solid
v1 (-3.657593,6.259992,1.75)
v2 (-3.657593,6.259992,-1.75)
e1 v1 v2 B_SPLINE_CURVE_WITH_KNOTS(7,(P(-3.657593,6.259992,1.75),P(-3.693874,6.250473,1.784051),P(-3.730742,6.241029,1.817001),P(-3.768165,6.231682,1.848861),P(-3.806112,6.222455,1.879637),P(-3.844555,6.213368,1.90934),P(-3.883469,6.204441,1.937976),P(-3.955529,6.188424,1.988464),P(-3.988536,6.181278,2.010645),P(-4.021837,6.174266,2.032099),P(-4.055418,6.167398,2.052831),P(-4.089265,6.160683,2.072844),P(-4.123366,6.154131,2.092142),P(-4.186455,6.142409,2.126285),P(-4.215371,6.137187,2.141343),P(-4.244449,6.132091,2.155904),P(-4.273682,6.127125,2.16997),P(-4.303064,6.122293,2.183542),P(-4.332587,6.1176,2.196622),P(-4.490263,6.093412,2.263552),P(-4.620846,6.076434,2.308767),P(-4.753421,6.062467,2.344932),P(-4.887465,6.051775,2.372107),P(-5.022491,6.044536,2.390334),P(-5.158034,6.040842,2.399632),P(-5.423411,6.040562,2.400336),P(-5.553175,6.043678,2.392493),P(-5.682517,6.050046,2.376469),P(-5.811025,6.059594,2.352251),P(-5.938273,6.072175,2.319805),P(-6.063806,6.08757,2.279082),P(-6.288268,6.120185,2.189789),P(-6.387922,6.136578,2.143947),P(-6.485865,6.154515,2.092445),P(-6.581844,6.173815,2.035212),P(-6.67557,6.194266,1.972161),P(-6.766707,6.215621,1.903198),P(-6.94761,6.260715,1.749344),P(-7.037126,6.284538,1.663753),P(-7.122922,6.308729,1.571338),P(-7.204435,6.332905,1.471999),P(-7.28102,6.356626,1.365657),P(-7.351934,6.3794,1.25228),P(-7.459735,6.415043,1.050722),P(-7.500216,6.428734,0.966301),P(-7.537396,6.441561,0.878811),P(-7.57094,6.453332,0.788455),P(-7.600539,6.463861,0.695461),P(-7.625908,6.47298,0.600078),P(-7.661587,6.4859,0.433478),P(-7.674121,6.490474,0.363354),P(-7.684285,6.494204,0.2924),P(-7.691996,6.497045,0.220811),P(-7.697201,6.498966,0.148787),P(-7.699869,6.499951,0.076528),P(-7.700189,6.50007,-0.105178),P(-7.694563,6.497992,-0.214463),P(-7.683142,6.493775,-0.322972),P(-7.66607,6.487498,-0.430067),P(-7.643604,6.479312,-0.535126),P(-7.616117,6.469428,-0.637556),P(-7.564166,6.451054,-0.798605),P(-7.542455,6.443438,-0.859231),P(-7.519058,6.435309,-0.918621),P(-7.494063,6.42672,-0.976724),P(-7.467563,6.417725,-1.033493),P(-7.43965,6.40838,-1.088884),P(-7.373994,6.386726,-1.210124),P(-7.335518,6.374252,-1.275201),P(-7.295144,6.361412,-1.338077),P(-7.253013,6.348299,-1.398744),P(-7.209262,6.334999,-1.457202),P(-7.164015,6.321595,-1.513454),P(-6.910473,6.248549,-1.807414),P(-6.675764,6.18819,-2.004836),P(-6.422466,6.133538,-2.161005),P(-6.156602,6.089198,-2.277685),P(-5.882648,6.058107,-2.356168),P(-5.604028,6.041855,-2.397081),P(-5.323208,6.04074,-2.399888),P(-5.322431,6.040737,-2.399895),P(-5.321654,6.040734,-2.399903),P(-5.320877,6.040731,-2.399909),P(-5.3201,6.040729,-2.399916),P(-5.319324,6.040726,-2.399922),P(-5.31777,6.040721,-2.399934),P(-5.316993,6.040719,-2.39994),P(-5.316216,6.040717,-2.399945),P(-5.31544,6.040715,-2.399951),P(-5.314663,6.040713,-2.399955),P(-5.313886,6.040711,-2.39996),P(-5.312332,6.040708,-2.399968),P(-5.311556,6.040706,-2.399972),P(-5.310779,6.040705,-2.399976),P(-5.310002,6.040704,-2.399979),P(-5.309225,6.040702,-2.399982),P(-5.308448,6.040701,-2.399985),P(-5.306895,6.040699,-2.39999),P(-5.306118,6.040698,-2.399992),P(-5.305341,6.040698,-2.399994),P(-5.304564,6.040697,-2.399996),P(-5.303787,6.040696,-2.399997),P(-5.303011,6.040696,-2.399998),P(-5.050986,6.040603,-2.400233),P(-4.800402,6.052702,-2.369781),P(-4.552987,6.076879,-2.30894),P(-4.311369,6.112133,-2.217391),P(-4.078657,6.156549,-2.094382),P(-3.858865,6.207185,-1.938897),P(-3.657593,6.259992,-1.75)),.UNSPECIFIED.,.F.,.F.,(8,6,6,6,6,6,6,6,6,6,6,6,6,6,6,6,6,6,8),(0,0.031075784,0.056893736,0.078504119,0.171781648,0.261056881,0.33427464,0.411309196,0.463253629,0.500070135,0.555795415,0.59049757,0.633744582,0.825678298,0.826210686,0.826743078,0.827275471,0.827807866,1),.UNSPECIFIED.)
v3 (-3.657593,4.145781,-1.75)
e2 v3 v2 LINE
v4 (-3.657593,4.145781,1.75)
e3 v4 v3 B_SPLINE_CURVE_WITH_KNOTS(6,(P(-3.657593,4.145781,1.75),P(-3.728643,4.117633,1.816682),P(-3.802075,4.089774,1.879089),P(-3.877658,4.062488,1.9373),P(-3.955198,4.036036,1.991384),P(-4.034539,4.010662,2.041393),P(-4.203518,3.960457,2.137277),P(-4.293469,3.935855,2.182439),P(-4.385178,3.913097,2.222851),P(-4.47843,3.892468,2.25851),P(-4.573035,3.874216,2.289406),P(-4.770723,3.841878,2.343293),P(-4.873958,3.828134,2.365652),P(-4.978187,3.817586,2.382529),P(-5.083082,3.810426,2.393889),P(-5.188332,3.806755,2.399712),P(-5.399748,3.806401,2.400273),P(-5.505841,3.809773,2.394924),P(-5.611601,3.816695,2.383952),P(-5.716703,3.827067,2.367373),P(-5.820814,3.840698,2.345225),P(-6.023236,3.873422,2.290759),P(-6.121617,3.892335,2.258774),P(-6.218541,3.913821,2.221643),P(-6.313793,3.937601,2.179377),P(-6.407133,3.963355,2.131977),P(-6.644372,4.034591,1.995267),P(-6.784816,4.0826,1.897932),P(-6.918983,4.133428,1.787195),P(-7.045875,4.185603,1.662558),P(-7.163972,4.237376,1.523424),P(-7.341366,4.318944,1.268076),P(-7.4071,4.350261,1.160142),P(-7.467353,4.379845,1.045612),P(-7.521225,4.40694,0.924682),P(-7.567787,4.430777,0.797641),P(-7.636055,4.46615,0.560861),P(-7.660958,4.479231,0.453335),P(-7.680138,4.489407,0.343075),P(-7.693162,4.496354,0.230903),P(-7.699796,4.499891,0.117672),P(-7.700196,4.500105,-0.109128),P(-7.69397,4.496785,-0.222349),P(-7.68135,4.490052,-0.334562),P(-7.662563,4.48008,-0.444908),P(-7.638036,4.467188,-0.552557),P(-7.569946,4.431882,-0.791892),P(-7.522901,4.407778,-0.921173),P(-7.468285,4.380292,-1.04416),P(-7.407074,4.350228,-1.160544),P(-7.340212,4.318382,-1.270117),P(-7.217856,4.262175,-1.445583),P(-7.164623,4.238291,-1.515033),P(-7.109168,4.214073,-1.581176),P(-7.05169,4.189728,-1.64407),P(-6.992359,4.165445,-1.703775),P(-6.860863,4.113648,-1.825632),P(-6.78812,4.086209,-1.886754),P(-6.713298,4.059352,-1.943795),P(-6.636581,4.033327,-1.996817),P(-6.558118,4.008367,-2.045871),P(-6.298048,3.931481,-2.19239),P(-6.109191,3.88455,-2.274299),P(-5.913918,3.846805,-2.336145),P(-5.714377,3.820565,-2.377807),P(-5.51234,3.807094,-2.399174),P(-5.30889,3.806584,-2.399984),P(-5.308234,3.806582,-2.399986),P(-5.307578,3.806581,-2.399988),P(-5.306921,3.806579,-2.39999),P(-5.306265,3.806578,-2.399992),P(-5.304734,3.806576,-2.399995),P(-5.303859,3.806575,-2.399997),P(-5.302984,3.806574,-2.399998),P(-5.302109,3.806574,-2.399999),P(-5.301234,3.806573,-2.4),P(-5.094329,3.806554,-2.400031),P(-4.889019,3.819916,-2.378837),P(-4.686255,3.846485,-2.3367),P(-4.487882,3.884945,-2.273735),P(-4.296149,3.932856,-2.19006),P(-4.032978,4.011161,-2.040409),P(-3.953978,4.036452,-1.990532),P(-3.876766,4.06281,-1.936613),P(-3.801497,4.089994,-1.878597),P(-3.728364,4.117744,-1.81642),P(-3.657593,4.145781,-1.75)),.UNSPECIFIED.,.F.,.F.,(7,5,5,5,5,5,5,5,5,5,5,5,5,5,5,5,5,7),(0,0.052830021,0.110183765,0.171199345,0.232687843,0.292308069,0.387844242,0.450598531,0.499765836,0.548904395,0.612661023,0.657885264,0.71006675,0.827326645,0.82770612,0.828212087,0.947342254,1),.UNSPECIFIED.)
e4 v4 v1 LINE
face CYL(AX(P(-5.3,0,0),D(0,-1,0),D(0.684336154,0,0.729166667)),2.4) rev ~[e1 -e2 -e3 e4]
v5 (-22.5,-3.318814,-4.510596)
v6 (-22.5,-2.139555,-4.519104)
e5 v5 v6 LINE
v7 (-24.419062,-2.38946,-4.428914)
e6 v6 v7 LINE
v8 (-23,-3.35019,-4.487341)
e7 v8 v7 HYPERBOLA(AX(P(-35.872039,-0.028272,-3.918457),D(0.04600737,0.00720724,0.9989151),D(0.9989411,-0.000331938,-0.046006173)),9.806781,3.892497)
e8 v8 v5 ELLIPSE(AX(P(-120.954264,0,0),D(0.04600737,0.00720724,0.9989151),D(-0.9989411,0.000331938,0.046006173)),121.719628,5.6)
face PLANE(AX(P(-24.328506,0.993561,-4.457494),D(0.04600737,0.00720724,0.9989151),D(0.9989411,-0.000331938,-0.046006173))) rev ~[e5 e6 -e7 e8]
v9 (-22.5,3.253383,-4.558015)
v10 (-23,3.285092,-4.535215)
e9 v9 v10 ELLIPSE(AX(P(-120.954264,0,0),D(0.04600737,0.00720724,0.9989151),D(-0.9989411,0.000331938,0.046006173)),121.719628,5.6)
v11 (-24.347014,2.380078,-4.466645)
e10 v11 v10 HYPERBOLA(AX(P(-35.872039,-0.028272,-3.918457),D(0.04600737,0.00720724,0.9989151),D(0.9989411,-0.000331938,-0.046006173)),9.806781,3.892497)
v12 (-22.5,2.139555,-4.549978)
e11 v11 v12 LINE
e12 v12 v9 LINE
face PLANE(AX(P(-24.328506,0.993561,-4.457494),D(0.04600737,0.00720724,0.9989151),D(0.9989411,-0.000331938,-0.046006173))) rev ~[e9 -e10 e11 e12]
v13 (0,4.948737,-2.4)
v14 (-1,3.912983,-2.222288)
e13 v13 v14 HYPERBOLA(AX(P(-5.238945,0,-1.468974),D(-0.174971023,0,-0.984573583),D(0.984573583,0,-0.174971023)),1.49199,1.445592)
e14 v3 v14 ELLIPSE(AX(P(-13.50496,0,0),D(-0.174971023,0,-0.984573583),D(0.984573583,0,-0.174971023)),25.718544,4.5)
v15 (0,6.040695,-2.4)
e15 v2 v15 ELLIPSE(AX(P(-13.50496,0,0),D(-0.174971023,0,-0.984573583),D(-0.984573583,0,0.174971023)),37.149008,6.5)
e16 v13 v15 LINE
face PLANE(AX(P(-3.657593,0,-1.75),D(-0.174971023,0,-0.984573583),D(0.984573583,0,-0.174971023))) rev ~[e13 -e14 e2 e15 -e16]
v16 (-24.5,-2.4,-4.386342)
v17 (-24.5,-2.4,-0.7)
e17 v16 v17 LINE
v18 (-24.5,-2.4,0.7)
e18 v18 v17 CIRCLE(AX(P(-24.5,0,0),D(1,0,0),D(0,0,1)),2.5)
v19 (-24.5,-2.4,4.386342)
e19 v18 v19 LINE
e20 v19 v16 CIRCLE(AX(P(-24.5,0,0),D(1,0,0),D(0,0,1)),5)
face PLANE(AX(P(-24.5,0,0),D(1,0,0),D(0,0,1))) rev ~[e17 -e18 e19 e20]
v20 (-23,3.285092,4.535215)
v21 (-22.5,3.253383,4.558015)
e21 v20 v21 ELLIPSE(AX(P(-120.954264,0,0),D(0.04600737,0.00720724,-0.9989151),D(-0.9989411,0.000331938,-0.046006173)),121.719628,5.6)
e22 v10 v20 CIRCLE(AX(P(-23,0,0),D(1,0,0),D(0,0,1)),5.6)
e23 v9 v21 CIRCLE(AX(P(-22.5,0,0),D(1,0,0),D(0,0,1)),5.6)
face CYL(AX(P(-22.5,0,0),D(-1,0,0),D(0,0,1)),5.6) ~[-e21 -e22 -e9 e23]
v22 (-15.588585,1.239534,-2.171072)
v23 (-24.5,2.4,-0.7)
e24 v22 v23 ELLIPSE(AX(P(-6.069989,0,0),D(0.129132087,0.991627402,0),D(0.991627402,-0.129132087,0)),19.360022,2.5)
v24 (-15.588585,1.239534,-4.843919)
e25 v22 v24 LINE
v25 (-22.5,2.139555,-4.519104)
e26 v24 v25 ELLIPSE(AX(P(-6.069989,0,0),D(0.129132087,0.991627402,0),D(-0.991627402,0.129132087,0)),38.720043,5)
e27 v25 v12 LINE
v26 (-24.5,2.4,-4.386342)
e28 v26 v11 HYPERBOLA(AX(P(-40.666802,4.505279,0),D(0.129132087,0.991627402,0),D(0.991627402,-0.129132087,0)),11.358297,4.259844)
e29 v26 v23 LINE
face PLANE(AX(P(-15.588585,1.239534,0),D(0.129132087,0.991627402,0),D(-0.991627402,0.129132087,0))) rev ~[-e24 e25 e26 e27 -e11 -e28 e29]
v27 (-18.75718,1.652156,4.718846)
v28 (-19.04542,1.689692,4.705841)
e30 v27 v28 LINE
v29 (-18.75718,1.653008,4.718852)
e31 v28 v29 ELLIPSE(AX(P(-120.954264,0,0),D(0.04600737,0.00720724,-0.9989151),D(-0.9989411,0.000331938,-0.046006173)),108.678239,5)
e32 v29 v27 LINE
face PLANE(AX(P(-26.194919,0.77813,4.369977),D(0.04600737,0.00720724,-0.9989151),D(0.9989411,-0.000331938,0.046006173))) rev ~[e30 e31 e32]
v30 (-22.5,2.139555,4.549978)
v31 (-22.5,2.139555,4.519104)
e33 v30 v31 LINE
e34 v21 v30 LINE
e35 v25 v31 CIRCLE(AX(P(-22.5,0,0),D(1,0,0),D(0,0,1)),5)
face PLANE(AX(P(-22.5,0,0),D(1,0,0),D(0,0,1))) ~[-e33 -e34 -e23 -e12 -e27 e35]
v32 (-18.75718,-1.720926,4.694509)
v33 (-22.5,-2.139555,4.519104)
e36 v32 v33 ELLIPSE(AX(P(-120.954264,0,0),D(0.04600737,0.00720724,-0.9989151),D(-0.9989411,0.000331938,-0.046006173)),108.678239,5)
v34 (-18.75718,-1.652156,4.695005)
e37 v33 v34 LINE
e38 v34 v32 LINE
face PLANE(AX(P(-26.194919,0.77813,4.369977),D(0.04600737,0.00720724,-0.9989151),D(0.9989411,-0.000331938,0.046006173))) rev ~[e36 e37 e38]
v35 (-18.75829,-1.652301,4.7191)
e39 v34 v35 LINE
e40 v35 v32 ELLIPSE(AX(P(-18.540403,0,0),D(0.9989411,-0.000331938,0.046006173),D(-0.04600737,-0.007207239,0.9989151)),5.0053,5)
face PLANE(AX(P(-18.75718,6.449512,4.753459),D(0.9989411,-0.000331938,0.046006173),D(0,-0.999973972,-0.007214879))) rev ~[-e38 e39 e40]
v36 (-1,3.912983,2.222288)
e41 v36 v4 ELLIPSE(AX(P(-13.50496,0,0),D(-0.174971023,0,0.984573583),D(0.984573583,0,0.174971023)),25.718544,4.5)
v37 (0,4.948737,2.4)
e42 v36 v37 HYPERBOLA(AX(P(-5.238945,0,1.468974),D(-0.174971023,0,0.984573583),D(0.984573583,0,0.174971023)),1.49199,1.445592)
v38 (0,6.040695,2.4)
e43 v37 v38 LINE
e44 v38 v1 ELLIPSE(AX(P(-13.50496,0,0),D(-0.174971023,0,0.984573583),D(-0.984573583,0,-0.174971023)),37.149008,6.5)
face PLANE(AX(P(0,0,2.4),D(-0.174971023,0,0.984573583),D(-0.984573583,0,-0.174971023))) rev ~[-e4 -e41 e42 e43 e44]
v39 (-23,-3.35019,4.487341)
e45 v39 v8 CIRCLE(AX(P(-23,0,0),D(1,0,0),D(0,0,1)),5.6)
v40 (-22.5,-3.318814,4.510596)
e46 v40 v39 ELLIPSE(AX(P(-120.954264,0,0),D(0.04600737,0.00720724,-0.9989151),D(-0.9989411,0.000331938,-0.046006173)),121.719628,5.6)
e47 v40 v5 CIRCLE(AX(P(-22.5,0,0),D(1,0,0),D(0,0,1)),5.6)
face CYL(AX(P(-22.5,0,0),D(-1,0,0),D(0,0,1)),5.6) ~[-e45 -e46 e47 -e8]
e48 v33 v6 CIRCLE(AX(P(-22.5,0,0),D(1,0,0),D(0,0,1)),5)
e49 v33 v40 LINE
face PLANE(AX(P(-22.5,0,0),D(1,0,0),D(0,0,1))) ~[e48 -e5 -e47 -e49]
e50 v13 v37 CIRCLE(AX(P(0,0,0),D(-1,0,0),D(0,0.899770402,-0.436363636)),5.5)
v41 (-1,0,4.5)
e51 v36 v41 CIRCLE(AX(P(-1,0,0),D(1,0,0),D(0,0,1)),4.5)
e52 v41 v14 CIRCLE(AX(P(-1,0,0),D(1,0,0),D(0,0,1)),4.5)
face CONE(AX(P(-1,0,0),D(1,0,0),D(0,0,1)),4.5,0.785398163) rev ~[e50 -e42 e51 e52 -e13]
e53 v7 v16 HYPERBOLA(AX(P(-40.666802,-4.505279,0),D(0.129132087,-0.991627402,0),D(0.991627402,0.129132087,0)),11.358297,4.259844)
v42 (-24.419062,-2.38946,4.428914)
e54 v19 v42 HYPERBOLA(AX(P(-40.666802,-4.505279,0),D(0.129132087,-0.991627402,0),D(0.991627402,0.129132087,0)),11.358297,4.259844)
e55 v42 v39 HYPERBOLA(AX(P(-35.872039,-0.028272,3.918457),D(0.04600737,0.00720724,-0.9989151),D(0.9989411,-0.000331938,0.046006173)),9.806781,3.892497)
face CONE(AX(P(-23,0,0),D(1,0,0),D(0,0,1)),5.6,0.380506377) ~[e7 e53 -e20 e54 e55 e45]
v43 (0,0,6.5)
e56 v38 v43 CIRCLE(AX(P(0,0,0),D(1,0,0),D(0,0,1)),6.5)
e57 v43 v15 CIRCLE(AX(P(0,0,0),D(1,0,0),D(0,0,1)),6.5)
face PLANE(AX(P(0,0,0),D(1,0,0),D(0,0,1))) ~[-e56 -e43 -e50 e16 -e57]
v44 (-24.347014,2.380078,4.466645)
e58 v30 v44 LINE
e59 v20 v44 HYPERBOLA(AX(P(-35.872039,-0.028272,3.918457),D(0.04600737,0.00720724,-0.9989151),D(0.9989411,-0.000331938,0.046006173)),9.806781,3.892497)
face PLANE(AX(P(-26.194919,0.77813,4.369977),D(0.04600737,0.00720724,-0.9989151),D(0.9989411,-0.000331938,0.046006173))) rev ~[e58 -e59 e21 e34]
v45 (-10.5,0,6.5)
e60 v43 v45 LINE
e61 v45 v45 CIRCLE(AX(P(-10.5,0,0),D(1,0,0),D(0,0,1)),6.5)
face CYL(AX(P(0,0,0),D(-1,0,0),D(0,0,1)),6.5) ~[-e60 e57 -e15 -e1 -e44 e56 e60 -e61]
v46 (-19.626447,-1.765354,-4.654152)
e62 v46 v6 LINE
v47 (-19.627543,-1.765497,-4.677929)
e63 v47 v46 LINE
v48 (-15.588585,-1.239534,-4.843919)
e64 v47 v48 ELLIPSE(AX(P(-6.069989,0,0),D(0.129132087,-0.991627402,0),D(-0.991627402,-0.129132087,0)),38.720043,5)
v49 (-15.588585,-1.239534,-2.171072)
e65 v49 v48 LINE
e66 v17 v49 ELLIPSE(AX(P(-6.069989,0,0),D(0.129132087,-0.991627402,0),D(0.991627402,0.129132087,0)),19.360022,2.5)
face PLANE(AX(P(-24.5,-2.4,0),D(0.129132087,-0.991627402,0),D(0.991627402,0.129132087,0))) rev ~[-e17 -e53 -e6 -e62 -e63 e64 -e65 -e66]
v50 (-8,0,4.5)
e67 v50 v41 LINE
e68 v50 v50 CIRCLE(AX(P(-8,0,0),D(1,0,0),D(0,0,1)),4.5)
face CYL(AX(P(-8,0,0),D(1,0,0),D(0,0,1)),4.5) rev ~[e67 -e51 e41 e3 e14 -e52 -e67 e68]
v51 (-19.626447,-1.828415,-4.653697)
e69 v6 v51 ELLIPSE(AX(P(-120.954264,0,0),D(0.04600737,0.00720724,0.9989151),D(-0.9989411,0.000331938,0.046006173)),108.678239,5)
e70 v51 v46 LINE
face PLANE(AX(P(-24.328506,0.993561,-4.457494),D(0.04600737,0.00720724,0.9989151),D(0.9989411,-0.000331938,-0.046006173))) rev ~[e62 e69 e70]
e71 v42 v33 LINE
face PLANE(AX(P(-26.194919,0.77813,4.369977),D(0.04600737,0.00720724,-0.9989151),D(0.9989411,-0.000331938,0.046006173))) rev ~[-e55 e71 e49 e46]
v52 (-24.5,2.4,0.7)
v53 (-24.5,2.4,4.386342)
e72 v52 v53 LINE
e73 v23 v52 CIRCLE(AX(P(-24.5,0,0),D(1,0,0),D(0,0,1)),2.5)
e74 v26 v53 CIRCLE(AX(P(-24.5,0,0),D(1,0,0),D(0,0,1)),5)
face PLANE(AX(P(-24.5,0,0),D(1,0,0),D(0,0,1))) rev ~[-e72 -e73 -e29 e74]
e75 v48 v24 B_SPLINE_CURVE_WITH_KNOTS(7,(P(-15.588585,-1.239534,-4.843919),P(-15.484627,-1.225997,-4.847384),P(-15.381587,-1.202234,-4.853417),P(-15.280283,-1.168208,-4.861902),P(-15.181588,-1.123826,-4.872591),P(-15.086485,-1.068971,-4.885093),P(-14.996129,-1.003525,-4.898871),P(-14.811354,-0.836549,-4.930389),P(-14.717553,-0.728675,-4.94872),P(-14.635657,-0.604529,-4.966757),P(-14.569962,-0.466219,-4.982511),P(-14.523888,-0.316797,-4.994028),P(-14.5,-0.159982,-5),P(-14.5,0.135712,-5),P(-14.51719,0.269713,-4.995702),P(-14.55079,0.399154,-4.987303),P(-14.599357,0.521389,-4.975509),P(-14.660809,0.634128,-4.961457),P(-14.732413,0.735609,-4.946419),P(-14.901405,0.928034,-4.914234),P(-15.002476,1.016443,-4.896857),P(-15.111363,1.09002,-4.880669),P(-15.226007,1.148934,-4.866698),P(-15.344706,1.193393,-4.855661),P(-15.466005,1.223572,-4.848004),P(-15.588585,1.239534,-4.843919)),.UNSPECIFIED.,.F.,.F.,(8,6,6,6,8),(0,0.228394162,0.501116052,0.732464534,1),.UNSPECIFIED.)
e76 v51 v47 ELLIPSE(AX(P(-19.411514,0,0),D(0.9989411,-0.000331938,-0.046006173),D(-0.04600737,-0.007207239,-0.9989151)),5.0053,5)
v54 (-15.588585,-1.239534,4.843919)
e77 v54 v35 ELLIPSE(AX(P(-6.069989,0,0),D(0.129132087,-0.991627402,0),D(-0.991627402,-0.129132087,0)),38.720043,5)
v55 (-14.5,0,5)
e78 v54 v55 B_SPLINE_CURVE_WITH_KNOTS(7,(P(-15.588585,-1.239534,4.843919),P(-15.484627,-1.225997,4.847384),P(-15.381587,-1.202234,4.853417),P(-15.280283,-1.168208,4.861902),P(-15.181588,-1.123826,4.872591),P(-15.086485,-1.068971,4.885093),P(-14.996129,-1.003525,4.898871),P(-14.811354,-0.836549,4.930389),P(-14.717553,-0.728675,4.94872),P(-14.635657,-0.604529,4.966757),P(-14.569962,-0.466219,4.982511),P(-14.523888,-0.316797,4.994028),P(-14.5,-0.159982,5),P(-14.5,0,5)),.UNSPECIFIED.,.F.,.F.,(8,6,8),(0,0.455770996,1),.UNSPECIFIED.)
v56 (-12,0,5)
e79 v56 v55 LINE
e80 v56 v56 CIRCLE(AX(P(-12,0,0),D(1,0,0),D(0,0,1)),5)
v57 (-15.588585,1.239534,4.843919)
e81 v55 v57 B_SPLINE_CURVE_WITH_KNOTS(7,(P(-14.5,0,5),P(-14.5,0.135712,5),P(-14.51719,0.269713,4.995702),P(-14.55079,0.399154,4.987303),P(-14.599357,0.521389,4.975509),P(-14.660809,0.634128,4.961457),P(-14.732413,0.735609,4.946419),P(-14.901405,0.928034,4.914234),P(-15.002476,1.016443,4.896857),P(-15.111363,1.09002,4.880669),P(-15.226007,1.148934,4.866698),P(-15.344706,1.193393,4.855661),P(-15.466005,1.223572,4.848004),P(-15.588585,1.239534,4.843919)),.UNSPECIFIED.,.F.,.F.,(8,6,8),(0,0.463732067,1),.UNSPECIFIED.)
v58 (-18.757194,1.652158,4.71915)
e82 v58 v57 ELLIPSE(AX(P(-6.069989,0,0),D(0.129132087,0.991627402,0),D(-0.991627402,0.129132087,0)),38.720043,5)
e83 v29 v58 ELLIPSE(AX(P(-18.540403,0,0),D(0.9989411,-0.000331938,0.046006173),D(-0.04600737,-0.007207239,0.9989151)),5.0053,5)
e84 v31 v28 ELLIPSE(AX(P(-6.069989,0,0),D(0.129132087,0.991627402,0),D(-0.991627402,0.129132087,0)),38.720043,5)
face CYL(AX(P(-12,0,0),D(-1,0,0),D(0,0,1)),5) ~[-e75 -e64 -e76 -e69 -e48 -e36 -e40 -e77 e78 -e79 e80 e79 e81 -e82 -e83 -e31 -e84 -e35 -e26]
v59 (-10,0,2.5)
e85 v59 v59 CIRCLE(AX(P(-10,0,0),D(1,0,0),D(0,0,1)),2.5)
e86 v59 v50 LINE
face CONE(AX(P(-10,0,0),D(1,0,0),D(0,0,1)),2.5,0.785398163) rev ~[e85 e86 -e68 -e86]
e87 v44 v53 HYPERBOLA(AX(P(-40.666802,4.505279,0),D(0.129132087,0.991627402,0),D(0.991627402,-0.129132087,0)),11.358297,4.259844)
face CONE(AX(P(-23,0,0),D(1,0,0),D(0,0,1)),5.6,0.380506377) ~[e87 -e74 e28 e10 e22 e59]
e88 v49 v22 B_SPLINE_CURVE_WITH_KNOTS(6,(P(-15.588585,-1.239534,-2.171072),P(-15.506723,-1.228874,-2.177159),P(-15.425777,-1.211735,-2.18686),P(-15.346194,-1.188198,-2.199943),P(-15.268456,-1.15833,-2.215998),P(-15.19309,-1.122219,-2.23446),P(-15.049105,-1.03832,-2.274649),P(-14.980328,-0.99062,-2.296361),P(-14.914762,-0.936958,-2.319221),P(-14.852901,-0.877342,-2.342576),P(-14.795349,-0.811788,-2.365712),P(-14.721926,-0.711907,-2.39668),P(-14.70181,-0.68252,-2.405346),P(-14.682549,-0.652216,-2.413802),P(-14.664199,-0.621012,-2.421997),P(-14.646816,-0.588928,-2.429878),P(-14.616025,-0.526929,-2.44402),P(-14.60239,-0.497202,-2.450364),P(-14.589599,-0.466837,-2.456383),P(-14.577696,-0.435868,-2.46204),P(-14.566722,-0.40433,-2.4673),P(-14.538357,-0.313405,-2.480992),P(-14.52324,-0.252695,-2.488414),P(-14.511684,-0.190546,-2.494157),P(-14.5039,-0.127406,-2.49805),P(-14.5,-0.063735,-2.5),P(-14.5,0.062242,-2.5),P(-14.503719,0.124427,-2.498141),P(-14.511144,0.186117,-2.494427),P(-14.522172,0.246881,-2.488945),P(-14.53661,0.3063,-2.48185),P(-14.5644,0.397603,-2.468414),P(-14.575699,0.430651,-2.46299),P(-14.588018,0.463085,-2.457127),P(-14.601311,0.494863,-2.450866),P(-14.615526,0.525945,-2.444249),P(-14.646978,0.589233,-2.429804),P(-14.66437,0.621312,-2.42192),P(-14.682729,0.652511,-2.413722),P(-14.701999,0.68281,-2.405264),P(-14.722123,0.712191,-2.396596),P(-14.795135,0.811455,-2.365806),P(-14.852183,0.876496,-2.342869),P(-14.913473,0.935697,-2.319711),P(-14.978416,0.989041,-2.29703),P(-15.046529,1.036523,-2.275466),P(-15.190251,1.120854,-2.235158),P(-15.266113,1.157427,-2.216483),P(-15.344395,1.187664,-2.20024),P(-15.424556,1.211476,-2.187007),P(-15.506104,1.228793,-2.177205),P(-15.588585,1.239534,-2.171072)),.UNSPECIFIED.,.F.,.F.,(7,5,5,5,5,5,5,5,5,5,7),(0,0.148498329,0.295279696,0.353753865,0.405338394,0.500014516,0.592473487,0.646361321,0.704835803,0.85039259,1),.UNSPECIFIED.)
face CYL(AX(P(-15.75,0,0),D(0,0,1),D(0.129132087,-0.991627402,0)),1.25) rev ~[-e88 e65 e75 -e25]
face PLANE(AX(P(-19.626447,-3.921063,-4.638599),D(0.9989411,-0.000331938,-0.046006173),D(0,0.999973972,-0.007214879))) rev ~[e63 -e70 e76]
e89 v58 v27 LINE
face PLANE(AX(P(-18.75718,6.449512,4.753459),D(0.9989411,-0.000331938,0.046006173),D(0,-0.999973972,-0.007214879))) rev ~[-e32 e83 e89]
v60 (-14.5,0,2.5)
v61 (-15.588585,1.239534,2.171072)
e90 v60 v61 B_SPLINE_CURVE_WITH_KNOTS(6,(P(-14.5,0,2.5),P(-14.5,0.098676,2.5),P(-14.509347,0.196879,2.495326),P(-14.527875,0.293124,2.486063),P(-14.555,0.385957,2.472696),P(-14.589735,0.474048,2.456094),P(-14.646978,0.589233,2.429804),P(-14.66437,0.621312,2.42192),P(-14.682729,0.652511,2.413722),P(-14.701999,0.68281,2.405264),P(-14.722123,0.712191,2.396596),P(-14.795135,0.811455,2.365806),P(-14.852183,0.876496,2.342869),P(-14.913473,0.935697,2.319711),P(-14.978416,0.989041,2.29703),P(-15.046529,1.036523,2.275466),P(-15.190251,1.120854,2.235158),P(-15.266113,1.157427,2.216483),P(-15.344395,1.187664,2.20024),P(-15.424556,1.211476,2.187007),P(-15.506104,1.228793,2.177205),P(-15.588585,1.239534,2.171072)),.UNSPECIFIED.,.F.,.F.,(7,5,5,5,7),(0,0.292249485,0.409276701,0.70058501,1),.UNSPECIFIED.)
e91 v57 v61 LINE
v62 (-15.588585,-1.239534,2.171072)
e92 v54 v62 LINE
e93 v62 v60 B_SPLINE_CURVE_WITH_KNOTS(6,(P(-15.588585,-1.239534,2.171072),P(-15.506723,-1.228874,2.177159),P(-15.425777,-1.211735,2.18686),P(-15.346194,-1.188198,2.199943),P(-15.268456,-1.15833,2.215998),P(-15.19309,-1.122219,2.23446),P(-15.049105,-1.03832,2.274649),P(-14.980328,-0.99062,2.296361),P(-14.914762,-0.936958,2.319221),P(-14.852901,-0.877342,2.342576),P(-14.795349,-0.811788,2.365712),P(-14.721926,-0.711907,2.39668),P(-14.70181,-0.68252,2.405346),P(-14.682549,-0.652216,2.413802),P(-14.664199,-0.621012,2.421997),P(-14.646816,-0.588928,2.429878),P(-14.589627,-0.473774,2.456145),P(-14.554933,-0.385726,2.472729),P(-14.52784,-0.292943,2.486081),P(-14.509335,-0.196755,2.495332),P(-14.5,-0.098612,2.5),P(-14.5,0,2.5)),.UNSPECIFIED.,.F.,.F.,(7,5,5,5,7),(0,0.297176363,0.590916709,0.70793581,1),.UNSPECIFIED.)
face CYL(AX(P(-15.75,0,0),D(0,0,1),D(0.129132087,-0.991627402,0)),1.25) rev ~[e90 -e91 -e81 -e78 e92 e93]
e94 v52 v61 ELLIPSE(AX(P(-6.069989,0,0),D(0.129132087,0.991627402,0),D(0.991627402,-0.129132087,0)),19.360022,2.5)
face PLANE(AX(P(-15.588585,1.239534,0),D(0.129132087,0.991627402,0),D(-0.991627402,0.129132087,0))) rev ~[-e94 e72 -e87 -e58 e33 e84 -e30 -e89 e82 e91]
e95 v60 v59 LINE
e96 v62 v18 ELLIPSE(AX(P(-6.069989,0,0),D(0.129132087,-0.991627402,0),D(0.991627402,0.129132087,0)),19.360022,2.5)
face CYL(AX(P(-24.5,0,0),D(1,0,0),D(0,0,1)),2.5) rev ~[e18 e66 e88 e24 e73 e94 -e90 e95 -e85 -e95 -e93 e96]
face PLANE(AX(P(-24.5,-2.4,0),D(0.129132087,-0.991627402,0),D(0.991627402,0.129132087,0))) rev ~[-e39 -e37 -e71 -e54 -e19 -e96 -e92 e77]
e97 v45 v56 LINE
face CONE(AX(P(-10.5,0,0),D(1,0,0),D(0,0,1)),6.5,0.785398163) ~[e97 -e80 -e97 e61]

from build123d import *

# Parameters (mm, degrees)
F3_DEPTH  = 6.501
F5_DEPTH  = 50
F8_W      = 9.4140861183
F8_H      = 9.8263791297
F9_DEPTH  = 25
F12_W     = 14.8912463337
F12_H     = 11.3480030559
F13_DEPTH = 25


with BuildPart() as f1:
    # F0 (on Front) → F1 (revolve)
    with BuildSketch(Plane.XZ):
        Polygon((-12, 5), (-22.5, 5), (-22.5, 5.6), (-23, 5.6), (-24.5, 5), (-24.5, 2.5), (-10, 2.5), (-8, 4.5), (-1, 4.5), (0, 5.5), (0, 6.5), (-10.5, 6.5), align=None)
    revolve(axis=Axis((-0.2357512317, 0, 0), (1, 0, 0)))

    # F2 (on Front) → F3 (cut, through all)
    with BuildSketch(Plane.XZ):
        with BuildLine():
            Line((0, 2.4), (-3.6575932294, 1.75))
            ThreePointArc((-3.6575932294, 1.75), (-7.7, 0), (-3.6575932294, -1.75))
            Line((-3.6575932294, -1.75), (0, -2.4))
            Line((0, -2.4), (0, 2.4))
        make_face()
    extrude(amount=-F3_DEPTH, mode=Mode.SUBTRACT)

    # F4 (on Top) → F5 (cut, symmetric)
    with BuildSketch(Plane.XY):
        with BuildLine():
            Line((-15.5885848908, 1.2395342523), (-24.5, 2.4))
            Line((-24.5, 2.4), (-24.5, -2.4))
            Line((-24.5, -2.4), (-15.5885848908, -1.2395342523))
            ThreePointArc((-15.5885848908, -1.2395342523), (-14.5, 0), (-15.5885848908, 1.2395342523))
        make_face()
    extrude(amount=F5_DEPTH, both=True, mode=Mode.SUBTRACT)

    # F8 (on 3pt) → F9 (cut)
    with BuildSketch(Plane(origin=(-0.2560212454, -0.0401067578, -5.558750384), x_dir=(0.9989411003, -0.0003319376, -0.046006173), z_dir=(0.0460073704, 0.0072072396, 0.9989151003))):
        with Locations((-24.0980023518, 1.025695703)):
            Rectangle(F8_W, F8_H)
    extrude(amount=-F9_DEPTH, mode=Mode.SUBTRACT)

    # F12 (on 3pt) → F13 (cut)
    with BuildSketch(Plane(origin=(-0.2560212454, -0.0401067578, 5.558750384), x_dir=(0.9989411003, -0.0003319376, 0.046006173), z_dir=(0.0460073704, 0.0072072396, -0.9989151003))):
        with Locations((-25.9663937613, -0.8096385282)):
            Rectangle(F12_W, F12_H)
    extrude(amount=-F13_DEPTH, mode=Mode.SUBTRACT)


solid = f1.part
